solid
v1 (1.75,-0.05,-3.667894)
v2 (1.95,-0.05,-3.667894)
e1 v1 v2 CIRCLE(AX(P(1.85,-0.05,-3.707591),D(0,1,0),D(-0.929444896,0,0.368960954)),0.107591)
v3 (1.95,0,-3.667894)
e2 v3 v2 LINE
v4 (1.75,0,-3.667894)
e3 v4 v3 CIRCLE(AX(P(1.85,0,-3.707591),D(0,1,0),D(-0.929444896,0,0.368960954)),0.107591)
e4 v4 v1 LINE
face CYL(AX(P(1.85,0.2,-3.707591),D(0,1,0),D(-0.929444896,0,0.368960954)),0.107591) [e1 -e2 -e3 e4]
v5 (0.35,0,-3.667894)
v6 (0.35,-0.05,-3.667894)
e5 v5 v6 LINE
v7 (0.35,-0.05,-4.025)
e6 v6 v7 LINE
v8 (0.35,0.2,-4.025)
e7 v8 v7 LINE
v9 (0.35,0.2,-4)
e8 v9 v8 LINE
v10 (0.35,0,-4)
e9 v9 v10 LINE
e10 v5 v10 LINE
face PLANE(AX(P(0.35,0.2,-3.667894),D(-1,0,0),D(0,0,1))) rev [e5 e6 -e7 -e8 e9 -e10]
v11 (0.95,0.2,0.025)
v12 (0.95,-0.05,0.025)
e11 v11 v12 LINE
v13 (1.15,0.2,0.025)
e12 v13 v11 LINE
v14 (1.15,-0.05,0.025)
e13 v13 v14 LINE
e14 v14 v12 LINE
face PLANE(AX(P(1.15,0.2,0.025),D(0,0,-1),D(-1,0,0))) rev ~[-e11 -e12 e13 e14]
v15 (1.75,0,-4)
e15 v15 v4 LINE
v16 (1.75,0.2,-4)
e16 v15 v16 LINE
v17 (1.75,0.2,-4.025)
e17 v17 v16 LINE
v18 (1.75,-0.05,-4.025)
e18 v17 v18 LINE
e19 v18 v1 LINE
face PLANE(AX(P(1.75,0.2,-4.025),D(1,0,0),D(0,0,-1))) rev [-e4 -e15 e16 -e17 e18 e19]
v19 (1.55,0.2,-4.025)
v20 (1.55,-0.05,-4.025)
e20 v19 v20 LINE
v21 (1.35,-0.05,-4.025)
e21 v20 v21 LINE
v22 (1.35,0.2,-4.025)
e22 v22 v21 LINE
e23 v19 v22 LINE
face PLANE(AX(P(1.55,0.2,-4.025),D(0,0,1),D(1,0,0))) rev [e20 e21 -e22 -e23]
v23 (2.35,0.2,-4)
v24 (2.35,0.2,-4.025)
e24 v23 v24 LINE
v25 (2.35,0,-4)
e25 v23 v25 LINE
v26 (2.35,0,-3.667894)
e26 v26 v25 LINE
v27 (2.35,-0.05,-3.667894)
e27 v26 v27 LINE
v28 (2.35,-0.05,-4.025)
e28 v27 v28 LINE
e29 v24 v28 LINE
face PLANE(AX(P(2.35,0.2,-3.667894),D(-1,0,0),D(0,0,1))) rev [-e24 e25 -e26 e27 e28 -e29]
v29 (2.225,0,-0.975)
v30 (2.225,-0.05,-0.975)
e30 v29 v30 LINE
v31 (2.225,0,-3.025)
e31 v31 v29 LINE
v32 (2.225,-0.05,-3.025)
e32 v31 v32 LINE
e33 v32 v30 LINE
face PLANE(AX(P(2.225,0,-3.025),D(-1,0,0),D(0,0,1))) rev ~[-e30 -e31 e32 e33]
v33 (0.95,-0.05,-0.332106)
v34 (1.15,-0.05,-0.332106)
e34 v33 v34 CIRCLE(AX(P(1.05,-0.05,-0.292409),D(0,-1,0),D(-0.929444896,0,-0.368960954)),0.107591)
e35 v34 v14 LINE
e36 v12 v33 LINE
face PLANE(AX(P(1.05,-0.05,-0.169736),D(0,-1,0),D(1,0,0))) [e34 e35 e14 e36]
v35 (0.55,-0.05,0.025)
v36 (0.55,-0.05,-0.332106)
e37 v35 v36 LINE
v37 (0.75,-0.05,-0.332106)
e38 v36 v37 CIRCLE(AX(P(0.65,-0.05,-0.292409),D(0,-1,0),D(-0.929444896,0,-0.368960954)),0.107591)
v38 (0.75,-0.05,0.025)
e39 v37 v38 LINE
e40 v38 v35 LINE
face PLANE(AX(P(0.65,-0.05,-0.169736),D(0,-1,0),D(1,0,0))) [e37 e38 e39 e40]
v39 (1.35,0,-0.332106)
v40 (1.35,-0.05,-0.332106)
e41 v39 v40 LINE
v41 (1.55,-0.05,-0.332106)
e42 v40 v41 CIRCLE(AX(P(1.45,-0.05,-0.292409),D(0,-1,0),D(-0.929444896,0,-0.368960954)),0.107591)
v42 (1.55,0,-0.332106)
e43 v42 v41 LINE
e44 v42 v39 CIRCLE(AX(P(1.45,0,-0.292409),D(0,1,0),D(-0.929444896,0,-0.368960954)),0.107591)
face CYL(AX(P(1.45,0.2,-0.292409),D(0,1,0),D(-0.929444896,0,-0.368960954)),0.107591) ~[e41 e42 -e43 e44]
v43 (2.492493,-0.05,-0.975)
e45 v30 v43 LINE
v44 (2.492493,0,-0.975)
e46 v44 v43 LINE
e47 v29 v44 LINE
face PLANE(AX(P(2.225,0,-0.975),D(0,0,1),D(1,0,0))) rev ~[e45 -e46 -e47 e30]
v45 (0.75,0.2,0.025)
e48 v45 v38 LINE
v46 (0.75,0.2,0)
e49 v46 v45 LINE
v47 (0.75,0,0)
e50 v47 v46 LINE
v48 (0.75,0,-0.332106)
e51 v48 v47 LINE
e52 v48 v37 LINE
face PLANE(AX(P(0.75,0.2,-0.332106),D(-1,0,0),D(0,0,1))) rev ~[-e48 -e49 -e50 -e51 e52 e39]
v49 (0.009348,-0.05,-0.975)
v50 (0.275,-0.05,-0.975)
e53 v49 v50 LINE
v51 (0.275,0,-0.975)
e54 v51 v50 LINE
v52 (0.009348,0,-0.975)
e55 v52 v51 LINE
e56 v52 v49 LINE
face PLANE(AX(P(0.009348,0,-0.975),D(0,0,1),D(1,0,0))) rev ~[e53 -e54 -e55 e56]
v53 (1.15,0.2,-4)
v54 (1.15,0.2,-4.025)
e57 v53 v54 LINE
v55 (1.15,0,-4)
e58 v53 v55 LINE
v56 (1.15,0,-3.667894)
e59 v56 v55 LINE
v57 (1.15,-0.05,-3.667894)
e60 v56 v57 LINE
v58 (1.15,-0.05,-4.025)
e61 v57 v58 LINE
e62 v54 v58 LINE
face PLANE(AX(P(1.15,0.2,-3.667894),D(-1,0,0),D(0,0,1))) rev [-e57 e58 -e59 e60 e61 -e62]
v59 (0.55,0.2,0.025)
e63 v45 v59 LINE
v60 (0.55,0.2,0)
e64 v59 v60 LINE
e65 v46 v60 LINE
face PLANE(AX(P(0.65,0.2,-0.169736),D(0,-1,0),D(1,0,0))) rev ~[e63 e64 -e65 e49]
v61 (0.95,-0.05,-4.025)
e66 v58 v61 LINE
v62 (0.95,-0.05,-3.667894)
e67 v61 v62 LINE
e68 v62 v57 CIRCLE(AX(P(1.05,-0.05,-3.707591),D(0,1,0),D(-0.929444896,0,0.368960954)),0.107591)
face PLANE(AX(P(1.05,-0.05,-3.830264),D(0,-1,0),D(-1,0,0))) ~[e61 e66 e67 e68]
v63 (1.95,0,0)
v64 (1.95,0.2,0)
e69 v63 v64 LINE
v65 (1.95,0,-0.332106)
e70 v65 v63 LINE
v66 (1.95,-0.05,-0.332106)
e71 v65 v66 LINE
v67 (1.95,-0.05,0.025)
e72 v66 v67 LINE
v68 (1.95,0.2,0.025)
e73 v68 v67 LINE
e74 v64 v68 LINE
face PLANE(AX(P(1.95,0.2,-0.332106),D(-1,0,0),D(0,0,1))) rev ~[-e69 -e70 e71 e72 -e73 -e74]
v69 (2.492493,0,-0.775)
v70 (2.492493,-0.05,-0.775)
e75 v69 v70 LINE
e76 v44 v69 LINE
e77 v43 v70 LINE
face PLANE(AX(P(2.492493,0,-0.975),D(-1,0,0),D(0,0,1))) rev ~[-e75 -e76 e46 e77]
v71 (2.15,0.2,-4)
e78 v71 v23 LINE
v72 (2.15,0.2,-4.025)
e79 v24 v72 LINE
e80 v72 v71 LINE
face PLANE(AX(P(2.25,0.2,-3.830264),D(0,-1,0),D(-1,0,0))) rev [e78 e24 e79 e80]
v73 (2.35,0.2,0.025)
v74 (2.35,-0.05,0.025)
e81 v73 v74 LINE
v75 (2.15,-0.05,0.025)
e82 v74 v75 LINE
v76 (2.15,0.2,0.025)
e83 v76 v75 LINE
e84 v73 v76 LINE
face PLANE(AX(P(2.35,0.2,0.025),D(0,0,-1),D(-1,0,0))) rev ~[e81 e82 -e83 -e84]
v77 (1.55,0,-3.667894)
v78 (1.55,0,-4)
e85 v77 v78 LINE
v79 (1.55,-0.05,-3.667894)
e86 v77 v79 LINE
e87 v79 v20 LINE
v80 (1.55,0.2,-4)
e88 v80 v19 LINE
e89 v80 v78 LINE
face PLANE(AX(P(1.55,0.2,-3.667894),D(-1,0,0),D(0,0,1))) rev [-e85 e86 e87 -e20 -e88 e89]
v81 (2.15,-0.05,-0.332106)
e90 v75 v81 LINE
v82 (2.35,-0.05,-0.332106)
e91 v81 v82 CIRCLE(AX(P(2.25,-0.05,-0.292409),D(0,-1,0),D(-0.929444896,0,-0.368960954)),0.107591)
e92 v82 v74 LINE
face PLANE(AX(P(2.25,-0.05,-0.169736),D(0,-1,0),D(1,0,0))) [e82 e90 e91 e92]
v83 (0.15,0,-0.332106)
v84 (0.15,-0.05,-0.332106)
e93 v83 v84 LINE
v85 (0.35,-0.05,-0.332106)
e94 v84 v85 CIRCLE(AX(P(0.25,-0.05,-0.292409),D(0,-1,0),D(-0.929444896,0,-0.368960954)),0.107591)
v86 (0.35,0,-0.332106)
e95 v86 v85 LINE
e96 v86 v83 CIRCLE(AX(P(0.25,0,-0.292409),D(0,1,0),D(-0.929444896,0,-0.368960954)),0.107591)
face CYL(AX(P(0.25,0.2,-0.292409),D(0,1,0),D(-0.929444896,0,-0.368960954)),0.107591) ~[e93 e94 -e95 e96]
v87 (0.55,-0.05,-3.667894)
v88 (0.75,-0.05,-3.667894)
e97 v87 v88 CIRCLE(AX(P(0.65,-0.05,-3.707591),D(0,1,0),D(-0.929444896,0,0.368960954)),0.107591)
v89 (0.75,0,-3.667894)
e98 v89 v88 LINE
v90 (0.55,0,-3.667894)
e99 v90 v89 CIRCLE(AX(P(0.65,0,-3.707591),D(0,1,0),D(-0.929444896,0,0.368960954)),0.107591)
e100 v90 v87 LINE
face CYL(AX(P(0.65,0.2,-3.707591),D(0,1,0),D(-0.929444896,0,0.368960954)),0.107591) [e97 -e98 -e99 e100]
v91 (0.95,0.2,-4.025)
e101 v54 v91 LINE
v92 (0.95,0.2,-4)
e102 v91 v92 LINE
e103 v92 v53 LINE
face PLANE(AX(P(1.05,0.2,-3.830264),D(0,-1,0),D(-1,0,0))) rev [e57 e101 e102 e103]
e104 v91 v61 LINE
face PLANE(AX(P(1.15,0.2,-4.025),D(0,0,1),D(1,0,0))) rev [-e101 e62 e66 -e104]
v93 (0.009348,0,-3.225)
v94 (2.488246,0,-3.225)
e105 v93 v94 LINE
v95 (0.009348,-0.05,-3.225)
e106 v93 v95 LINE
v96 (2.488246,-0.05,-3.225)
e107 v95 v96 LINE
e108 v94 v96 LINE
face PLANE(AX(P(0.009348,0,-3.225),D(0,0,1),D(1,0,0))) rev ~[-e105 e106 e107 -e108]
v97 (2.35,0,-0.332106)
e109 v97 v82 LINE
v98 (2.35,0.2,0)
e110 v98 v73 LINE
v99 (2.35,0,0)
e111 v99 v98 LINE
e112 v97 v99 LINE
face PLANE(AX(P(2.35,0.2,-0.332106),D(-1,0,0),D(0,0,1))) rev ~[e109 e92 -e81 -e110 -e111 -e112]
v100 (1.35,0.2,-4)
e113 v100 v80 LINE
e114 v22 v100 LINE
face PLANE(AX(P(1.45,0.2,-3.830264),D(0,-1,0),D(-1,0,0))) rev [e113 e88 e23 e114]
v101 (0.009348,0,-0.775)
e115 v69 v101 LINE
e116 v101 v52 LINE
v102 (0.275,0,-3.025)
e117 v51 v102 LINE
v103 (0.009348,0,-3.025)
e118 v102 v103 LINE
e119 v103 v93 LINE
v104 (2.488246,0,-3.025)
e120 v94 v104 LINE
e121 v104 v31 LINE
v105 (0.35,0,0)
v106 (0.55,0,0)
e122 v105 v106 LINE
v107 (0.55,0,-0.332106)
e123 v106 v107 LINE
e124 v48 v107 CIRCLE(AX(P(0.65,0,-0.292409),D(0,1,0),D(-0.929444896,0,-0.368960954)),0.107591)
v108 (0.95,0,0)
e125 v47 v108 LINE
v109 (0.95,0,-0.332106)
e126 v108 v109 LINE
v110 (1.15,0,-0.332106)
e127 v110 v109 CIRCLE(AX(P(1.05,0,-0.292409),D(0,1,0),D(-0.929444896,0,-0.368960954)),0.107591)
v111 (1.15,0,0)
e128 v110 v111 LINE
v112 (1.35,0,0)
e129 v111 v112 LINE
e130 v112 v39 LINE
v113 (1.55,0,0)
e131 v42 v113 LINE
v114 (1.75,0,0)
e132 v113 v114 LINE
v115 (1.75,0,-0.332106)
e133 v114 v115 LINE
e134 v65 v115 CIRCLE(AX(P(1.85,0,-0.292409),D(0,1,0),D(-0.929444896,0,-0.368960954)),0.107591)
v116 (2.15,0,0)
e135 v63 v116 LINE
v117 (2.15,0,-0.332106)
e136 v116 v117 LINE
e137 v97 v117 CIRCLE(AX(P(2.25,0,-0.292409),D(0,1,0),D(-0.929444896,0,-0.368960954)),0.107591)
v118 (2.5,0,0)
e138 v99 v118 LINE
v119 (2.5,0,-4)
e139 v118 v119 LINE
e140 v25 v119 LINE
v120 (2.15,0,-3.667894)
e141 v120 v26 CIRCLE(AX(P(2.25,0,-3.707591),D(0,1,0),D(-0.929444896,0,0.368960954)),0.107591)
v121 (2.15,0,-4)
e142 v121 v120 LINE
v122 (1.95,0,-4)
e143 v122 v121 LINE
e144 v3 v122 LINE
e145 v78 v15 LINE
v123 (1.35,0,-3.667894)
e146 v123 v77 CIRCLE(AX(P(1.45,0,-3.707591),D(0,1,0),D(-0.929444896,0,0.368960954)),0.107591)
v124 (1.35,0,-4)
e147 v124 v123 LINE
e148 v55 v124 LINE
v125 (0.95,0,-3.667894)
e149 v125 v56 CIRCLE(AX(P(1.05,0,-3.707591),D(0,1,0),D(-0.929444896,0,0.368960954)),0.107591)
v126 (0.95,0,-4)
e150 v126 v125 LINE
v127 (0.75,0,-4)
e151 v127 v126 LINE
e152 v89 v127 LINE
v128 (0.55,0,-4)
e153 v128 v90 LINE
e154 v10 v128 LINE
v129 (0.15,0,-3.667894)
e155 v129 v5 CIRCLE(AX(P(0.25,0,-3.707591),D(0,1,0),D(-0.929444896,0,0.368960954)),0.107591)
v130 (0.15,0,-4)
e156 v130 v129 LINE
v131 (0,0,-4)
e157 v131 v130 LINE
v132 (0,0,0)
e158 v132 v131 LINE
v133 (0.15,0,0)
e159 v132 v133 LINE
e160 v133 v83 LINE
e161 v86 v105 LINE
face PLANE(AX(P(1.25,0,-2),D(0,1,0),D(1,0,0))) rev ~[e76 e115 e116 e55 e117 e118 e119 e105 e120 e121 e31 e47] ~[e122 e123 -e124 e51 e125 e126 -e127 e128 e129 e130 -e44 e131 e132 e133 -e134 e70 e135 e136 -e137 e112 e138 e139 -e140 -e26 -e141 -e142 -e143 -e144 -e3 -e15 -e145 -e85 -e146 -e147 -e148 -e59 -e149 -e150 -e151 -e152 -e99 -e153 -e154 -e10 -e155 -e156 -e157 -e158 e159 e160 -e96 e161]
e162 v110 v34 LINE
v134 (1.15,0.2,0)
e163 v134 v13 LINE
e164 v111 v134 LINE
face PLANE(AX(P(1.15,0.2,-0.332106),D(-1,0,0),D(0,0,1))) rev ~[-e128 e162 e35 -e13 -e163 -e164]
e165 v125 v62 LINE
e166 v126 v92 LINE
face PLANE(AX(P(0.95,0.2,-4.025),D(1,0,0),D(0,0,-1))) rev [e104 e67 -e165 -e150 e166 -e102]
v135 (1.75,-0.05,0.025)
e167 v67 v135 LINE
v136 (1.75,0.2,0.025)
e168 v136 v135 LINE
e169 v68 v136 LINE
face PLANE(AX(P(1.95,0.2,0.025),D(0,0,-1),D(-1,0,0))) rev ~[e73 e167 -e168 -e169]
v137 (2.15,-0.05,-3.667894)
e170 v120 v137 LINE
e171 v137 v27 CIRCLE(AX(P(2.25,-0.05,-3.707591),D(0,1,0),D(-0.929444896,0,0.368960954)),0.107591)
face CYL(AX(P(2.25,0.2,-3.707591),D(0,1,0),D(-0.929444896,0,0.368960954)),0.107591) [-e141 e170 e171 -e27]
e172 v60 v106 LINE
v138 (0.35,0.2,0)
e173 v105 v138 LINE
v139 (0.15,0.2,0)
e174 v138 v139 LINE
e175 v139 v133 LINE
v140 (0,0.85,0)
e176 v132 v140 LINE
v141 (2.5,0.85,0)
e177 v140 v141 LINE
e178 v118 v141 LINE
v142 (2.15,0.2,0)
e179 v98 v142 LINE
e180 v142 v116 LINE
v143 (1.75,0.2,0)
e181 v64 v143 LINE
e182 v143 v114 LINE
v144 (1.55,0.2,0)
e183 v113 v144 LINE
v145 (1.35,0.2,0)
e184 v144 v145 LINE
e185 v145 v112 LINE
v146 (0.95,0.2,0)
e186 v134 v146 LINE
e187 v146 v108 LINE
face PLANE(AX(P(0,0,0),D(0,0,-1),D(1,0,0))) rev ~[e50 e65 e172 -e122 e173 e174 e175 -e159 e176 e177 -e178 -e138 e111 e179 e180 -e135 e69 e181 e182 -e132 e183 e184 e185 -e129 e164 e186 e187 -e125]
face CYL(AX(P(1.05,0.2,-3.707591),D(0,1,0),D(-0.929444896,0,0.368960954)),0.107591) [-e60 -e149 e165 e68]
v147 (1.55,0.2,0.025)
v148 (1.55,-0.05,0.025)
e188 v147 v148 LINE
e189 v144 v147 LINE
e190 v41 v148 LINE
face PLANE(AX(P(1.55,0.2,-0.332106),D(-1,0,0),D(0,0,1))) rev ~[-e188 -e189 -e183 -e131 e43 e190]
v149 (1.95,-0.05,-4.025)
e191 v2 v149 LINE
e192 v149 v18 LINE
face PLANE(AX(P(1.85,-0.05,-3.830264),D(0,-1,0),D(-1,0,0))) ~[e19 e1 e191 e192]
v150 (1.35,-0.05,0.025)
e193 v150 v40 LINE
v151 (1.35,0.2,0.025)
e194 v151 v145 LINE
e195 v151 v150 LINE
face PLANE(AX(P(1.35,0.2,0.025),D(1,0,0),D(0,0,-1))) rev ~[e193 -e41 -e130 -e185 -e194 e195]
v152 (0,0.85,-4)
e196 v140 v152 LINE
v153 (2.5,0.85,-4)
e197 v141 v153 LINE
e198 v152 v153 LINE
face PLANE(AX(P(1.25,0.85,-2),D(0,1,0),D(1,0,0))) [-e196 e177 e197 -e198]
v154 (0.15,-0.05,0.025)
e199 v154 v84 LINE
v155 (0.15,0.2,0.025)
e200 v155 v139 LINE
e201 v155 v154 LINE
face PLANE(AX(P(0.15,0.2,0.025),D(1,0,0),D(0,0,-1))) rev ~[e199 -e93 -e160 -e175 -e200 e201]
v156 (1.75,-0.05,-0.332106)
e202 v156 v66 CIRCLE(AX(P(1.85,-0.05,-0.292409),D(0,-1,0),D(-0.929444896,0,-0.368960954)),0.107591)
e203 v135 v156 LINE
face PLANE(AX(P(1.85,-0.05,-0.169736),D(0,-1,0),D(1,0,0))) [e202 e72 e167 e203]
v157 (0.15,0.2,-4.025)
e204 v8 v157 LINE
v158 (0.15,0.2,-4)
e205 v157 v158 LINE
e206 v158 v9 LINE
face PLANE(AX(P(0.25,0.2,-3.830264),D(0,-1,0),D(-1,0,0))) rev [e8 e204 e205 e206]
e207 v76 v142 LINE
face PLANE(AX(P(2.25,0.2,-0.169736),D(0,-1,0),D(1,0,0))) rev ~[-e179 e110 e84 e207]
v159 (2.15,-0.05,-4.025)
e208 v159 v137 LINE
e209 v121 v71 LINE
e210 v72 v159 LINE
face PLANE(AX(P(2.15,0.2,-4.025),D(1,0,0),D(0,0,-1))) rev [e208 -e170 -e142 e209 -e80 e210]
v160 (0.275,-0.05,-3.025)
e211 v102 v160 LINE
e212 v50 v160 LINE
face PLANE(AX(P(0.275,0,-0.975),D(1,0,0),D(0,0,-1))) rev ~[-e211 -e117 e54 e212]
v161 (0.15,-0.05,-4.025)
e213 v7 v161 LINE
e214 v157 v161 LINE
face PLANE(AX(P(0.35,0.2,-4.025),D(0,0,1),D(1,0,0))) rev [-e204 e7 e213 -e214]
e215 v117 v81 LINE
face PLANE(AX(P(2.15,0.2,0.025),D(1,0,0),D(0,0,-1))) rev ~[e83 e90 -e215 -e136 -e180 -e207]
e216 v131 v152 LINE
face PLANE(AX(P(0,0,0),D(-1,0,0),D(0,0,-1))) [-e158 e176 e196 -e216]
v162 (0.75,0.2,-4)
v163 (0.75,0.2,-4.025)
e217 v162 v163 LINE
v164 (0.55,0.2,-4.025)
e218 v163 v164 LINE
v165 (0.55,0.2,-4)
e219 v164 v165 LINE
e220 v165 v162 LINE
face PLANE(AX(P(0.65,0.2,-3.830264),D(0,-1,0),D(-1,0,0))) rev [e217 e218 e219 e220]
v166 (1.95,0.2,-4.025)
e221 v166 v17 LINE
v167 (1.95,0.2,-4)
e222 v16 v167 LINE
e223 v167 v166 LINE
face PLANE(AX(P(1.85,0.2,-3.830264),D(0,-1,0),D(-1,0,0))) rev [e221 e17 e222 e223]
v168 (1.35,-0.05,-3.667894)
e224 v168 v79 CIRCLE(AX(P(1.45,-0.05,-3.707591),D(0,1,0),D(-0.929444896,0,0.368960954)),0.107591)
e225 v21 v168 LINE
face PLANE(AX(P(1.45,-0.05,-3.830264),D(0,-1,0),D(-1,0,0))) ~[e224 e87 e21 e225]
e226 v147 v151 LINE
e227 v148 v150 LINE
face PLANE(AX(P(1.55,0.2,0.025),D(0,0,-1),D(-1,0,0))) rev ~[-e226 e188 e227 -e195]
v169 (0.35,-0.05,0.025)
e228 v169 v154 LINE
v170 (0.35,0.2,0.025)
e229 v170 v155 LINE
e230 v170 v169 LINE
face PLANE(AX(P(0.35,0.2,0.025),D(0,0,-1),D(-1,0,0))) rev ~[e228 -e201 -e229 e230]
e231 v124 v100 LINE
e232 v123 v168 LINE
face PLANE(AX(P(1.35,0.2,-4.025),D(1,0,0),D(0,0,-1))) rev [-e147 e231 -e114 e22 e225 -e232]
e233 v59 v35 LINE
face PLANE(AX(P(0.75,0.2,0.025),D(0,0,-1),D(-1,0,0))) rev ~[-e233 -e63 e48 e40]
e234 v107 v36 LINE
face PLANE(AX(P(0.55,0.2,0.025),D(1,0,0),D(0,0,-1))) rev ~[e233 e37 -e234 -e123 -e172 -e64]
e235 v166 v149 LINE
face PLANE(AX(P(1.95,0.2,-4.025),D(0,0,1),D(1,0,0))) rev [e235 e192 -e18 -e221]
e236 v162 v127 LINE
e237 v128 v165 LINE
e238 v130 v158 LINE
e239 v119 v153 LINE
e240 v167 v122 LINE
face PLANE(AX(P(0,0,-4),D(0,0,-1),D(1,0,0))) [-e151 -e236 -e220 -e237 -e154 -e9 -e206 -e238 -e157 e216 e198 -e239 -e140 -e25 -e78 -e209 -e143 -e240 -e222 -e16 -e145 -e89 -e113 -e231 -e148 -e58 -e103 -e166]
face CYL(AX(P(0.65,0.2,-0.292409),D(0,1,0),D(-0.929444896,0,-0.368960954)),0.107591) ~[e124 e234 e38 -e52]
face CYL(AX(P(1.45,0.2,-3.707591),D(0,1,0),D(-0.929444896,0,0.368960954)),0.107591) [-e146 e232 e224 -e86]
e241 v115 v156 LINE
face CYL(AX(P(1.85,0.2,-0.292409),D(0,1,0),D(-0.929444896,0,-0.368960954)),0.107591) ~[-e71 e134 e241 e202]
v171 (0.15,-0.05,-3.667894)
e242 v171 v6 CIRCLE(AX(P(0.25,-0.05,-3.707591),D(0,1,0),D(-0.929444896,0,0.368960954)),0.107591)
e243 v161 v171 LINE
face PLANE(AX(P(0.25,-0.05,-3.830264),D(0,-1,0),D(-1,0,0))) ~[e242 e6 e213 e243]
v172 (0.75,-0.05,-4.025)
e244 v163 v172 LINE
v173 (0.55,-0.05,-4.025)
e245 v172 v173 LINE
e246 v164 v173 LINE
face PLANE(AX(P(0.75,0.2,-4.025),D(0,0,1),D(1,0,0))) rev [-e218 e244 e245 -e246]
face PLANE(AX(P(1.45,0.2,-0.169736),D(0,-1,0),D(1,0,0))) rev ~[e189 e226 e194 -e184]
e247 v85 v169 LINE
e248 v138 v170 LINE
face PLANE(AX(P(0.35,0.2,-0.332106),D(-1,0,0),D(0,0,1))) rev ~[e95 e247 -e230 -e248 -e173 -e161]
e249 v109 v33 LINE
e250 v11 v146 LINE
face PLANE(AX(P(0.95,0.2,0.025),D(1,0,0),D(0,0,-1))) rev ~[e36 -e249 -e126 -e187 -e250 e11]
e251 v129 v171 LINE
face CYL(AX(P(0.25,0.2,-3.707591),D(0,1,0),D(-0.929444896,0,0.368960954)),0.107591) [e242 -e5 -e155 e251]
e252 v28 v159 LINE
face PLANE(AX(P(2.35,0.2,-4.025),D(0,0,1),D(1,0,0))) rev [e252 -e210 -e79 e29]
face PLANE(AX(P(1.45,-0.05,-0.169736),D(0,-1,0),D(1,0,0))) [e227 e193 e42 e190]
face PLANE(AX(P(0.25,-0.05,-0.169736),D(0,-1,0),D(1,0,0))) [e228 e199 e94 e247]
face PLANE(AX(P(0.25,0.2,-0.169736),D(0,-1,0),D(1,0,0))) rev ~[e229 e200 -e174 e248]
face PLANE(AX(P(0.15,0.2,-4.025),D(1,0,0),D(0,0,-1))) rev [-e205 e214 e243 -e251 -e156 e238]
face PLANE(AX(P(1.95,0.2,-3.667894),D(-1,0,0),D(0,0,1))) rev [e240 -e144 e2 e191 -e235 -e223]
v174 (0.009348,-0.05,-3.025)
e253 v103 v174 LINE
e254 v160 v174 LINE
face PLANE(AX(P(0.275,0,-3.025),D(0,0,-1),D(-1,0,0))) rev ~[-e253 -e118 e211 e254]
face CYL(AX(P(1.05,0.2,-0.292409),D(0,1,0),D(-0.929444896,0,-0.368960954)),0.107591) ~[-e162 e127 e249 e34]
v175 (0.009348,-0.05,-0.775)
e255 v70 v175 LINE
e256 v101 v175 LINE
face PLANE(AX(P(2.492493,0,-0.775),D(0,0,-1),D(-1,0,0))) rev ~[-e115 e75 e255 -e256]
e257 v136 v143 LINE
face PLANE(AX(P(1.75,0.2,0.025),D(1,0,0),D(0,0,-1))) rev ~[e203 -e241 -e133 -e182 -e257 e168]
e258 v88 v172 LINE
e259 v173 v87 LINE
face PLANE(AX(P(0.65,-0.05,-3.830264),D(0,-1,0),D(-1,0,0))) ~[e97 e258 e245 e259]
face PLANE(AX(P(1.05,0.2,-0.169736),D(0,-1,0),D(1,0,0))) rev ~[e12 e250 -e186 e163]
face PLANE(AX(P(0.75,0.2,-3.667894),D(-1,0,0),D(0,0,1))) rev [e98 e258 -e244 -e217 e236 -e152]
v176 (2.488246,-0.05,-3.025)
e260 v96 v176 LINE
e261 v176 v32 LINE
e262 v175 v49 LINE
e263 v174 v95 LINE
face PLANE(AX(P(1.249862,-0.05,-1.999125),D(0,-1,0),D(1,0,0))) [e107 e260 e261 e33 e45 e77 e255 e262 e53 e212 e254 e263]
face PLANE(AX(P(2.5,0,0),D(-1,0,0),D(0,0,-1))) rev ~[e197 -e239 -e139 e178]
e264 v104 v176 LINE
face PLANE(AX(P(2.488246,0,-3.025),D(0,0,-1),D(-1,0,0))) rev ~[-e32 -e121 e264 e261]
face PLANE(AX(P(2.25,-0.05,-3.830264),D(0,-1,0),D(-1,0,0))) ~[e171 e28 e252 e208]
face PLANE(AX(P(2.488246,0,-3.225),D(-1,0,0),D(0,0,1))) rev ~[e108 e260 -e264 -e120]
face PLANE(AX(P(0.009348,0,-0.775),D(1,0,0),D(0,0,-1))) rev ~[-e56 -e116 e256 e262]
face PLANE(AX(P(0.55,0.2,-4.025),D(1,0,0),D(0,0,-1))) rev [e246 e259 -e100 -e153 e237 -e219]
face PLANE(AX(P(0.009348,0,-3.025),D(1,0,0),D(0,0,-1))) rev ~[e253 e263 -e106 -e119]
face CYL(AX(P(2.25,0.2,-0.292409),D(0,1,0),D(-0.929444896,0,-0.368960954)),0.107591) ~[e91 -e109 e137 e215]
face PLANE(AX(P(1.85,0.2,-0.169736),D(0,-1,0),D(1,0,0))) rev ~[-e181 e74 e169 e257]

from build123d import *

# Parameters (mm, degrees)
SKETCH1_W           = 2.5
SKETCH1_H           = 4
BOSS_EXTRUDE1_DEPTH = 0.85
BOSS_EXTRUDE2_START = -0.2
BOSS_EXTRUDE2_DEPTH = 0.25
BOSS_EXTRUDE3_DEPTH = 0.05


with BuildPart() as part:
    # Sketch1 → Boss-Extrude1 (new body)
    with BuildSketch(Plane(origin=(0, 0, 0), x_dir=(1, 0, 0), z_dir=(0, 1, 0))):
        with Locations((1.25, 2)):
            Rectangle(SKETCH1_W, SKETCH1_H)
    extrude(amount=BOSS_EXTRUDE1_DEPTH)

    # Sketch2 → Boss-Extrude2 (add)
    with BuildSketch(Plane.XZ.offset(BOSS_EXTRUDE2_START)):
        with BuildLine():
            Line((1.75, 0.025), (1.75, -0.332105814))
            ThreePointArc((1.75, -0.332105814), (1.85, -0.4), (1.95, -0.332105814))
            Line((1.95, -0.332105814), (1.95, 0.025))
            Line((1.95, 0.025), (1.75, 0.025))
        make_face()
        with BuildLine():
            Line((1.35, 0.025), (1.35, -0.332105814))
            ThreePointArc((1.35, -0.332105814), (1.45, -0.4), (1.55, -0.332105814))
            Line((1.55, -0.332105814), (1.55, 0.025))
            Line((1.55, 0.025), (1.35, 0.025))
        make_face()
        with BuildLine():
            Line((2.15, 0.025), (2.15, -0.332105814))
            ThreePointArc((2.15, -0.332105814), (2.25, -0.4), (2.35, -0.332105814))
            Line((2.35, -0.332105814), (2.35, 0.025))
            Line((2.35, 0.025), (2.15, 0.025))
        make_face()
        with BuildLine():
            Line((0.95, 0.025), (0.95, -0.332105814))
            ThreePointArc((0.95, -0.332105814), (1.05, -0.4), (1.15, -0.332105814))
            Line((1.15, -0.332105814), (1.15, 0.025))
            Line((1.15, 0.025), (0.95, 0.025))
        make_face()
        with BuildLine():
            Line((0.55, 0.025), (0.55, -0.332105814))
            ThreePointArc((0.55, -0.332105814), (0.65, -0.4), (0.75, -0.332105814))
            Line((0.75, -0.332105814), (0.75, 0.025))
            Line((0.75, 0.025), (0.55, 0.025))
        make_face()
        with BuildLine():
            Line((0.15, 0.025), (0.15, -0.332105814))
            ThreePointArc((0.15, -0.332105814), (0.25, -0.4), (0.35, -0.332105814))
            Line((0.35, -0.332105814), (0.35, 0.025))
            Line((0.35, 0.025), (0.15, 0.025))
        make_face()
    boss_extrude2 = extrude(amount=BOSS_EXTRUDE2_DEPTH)

    # Mirror1: Boss-Extrude2 across plane
    add(boss_extrude2.mirror(Plane.XY.offset(-2)))

    # Sketch4 → Boss-Extrude3 (add)
    with BuildSketch(Plane.XZ):
        Polygon((2.488245591, -3.025), (2.225, -3.025), (2.225, -0.975), (2.492493394, -0.975), (2.492493394, -0.775), (1.25, -0.775), (0.00934793, -0.775), (0.00934793, -0.975), (0.275, -0.975), (0.275, -2), (0.275, -3.025), (0.00934793, -3.025), (0.00934793, -3.225), (1.25, -3.225), (2.488245591, -3.225), align=None)
    extrude(amount=BOSS_EXTRUDE3_DEPTH)


solid = part.part
